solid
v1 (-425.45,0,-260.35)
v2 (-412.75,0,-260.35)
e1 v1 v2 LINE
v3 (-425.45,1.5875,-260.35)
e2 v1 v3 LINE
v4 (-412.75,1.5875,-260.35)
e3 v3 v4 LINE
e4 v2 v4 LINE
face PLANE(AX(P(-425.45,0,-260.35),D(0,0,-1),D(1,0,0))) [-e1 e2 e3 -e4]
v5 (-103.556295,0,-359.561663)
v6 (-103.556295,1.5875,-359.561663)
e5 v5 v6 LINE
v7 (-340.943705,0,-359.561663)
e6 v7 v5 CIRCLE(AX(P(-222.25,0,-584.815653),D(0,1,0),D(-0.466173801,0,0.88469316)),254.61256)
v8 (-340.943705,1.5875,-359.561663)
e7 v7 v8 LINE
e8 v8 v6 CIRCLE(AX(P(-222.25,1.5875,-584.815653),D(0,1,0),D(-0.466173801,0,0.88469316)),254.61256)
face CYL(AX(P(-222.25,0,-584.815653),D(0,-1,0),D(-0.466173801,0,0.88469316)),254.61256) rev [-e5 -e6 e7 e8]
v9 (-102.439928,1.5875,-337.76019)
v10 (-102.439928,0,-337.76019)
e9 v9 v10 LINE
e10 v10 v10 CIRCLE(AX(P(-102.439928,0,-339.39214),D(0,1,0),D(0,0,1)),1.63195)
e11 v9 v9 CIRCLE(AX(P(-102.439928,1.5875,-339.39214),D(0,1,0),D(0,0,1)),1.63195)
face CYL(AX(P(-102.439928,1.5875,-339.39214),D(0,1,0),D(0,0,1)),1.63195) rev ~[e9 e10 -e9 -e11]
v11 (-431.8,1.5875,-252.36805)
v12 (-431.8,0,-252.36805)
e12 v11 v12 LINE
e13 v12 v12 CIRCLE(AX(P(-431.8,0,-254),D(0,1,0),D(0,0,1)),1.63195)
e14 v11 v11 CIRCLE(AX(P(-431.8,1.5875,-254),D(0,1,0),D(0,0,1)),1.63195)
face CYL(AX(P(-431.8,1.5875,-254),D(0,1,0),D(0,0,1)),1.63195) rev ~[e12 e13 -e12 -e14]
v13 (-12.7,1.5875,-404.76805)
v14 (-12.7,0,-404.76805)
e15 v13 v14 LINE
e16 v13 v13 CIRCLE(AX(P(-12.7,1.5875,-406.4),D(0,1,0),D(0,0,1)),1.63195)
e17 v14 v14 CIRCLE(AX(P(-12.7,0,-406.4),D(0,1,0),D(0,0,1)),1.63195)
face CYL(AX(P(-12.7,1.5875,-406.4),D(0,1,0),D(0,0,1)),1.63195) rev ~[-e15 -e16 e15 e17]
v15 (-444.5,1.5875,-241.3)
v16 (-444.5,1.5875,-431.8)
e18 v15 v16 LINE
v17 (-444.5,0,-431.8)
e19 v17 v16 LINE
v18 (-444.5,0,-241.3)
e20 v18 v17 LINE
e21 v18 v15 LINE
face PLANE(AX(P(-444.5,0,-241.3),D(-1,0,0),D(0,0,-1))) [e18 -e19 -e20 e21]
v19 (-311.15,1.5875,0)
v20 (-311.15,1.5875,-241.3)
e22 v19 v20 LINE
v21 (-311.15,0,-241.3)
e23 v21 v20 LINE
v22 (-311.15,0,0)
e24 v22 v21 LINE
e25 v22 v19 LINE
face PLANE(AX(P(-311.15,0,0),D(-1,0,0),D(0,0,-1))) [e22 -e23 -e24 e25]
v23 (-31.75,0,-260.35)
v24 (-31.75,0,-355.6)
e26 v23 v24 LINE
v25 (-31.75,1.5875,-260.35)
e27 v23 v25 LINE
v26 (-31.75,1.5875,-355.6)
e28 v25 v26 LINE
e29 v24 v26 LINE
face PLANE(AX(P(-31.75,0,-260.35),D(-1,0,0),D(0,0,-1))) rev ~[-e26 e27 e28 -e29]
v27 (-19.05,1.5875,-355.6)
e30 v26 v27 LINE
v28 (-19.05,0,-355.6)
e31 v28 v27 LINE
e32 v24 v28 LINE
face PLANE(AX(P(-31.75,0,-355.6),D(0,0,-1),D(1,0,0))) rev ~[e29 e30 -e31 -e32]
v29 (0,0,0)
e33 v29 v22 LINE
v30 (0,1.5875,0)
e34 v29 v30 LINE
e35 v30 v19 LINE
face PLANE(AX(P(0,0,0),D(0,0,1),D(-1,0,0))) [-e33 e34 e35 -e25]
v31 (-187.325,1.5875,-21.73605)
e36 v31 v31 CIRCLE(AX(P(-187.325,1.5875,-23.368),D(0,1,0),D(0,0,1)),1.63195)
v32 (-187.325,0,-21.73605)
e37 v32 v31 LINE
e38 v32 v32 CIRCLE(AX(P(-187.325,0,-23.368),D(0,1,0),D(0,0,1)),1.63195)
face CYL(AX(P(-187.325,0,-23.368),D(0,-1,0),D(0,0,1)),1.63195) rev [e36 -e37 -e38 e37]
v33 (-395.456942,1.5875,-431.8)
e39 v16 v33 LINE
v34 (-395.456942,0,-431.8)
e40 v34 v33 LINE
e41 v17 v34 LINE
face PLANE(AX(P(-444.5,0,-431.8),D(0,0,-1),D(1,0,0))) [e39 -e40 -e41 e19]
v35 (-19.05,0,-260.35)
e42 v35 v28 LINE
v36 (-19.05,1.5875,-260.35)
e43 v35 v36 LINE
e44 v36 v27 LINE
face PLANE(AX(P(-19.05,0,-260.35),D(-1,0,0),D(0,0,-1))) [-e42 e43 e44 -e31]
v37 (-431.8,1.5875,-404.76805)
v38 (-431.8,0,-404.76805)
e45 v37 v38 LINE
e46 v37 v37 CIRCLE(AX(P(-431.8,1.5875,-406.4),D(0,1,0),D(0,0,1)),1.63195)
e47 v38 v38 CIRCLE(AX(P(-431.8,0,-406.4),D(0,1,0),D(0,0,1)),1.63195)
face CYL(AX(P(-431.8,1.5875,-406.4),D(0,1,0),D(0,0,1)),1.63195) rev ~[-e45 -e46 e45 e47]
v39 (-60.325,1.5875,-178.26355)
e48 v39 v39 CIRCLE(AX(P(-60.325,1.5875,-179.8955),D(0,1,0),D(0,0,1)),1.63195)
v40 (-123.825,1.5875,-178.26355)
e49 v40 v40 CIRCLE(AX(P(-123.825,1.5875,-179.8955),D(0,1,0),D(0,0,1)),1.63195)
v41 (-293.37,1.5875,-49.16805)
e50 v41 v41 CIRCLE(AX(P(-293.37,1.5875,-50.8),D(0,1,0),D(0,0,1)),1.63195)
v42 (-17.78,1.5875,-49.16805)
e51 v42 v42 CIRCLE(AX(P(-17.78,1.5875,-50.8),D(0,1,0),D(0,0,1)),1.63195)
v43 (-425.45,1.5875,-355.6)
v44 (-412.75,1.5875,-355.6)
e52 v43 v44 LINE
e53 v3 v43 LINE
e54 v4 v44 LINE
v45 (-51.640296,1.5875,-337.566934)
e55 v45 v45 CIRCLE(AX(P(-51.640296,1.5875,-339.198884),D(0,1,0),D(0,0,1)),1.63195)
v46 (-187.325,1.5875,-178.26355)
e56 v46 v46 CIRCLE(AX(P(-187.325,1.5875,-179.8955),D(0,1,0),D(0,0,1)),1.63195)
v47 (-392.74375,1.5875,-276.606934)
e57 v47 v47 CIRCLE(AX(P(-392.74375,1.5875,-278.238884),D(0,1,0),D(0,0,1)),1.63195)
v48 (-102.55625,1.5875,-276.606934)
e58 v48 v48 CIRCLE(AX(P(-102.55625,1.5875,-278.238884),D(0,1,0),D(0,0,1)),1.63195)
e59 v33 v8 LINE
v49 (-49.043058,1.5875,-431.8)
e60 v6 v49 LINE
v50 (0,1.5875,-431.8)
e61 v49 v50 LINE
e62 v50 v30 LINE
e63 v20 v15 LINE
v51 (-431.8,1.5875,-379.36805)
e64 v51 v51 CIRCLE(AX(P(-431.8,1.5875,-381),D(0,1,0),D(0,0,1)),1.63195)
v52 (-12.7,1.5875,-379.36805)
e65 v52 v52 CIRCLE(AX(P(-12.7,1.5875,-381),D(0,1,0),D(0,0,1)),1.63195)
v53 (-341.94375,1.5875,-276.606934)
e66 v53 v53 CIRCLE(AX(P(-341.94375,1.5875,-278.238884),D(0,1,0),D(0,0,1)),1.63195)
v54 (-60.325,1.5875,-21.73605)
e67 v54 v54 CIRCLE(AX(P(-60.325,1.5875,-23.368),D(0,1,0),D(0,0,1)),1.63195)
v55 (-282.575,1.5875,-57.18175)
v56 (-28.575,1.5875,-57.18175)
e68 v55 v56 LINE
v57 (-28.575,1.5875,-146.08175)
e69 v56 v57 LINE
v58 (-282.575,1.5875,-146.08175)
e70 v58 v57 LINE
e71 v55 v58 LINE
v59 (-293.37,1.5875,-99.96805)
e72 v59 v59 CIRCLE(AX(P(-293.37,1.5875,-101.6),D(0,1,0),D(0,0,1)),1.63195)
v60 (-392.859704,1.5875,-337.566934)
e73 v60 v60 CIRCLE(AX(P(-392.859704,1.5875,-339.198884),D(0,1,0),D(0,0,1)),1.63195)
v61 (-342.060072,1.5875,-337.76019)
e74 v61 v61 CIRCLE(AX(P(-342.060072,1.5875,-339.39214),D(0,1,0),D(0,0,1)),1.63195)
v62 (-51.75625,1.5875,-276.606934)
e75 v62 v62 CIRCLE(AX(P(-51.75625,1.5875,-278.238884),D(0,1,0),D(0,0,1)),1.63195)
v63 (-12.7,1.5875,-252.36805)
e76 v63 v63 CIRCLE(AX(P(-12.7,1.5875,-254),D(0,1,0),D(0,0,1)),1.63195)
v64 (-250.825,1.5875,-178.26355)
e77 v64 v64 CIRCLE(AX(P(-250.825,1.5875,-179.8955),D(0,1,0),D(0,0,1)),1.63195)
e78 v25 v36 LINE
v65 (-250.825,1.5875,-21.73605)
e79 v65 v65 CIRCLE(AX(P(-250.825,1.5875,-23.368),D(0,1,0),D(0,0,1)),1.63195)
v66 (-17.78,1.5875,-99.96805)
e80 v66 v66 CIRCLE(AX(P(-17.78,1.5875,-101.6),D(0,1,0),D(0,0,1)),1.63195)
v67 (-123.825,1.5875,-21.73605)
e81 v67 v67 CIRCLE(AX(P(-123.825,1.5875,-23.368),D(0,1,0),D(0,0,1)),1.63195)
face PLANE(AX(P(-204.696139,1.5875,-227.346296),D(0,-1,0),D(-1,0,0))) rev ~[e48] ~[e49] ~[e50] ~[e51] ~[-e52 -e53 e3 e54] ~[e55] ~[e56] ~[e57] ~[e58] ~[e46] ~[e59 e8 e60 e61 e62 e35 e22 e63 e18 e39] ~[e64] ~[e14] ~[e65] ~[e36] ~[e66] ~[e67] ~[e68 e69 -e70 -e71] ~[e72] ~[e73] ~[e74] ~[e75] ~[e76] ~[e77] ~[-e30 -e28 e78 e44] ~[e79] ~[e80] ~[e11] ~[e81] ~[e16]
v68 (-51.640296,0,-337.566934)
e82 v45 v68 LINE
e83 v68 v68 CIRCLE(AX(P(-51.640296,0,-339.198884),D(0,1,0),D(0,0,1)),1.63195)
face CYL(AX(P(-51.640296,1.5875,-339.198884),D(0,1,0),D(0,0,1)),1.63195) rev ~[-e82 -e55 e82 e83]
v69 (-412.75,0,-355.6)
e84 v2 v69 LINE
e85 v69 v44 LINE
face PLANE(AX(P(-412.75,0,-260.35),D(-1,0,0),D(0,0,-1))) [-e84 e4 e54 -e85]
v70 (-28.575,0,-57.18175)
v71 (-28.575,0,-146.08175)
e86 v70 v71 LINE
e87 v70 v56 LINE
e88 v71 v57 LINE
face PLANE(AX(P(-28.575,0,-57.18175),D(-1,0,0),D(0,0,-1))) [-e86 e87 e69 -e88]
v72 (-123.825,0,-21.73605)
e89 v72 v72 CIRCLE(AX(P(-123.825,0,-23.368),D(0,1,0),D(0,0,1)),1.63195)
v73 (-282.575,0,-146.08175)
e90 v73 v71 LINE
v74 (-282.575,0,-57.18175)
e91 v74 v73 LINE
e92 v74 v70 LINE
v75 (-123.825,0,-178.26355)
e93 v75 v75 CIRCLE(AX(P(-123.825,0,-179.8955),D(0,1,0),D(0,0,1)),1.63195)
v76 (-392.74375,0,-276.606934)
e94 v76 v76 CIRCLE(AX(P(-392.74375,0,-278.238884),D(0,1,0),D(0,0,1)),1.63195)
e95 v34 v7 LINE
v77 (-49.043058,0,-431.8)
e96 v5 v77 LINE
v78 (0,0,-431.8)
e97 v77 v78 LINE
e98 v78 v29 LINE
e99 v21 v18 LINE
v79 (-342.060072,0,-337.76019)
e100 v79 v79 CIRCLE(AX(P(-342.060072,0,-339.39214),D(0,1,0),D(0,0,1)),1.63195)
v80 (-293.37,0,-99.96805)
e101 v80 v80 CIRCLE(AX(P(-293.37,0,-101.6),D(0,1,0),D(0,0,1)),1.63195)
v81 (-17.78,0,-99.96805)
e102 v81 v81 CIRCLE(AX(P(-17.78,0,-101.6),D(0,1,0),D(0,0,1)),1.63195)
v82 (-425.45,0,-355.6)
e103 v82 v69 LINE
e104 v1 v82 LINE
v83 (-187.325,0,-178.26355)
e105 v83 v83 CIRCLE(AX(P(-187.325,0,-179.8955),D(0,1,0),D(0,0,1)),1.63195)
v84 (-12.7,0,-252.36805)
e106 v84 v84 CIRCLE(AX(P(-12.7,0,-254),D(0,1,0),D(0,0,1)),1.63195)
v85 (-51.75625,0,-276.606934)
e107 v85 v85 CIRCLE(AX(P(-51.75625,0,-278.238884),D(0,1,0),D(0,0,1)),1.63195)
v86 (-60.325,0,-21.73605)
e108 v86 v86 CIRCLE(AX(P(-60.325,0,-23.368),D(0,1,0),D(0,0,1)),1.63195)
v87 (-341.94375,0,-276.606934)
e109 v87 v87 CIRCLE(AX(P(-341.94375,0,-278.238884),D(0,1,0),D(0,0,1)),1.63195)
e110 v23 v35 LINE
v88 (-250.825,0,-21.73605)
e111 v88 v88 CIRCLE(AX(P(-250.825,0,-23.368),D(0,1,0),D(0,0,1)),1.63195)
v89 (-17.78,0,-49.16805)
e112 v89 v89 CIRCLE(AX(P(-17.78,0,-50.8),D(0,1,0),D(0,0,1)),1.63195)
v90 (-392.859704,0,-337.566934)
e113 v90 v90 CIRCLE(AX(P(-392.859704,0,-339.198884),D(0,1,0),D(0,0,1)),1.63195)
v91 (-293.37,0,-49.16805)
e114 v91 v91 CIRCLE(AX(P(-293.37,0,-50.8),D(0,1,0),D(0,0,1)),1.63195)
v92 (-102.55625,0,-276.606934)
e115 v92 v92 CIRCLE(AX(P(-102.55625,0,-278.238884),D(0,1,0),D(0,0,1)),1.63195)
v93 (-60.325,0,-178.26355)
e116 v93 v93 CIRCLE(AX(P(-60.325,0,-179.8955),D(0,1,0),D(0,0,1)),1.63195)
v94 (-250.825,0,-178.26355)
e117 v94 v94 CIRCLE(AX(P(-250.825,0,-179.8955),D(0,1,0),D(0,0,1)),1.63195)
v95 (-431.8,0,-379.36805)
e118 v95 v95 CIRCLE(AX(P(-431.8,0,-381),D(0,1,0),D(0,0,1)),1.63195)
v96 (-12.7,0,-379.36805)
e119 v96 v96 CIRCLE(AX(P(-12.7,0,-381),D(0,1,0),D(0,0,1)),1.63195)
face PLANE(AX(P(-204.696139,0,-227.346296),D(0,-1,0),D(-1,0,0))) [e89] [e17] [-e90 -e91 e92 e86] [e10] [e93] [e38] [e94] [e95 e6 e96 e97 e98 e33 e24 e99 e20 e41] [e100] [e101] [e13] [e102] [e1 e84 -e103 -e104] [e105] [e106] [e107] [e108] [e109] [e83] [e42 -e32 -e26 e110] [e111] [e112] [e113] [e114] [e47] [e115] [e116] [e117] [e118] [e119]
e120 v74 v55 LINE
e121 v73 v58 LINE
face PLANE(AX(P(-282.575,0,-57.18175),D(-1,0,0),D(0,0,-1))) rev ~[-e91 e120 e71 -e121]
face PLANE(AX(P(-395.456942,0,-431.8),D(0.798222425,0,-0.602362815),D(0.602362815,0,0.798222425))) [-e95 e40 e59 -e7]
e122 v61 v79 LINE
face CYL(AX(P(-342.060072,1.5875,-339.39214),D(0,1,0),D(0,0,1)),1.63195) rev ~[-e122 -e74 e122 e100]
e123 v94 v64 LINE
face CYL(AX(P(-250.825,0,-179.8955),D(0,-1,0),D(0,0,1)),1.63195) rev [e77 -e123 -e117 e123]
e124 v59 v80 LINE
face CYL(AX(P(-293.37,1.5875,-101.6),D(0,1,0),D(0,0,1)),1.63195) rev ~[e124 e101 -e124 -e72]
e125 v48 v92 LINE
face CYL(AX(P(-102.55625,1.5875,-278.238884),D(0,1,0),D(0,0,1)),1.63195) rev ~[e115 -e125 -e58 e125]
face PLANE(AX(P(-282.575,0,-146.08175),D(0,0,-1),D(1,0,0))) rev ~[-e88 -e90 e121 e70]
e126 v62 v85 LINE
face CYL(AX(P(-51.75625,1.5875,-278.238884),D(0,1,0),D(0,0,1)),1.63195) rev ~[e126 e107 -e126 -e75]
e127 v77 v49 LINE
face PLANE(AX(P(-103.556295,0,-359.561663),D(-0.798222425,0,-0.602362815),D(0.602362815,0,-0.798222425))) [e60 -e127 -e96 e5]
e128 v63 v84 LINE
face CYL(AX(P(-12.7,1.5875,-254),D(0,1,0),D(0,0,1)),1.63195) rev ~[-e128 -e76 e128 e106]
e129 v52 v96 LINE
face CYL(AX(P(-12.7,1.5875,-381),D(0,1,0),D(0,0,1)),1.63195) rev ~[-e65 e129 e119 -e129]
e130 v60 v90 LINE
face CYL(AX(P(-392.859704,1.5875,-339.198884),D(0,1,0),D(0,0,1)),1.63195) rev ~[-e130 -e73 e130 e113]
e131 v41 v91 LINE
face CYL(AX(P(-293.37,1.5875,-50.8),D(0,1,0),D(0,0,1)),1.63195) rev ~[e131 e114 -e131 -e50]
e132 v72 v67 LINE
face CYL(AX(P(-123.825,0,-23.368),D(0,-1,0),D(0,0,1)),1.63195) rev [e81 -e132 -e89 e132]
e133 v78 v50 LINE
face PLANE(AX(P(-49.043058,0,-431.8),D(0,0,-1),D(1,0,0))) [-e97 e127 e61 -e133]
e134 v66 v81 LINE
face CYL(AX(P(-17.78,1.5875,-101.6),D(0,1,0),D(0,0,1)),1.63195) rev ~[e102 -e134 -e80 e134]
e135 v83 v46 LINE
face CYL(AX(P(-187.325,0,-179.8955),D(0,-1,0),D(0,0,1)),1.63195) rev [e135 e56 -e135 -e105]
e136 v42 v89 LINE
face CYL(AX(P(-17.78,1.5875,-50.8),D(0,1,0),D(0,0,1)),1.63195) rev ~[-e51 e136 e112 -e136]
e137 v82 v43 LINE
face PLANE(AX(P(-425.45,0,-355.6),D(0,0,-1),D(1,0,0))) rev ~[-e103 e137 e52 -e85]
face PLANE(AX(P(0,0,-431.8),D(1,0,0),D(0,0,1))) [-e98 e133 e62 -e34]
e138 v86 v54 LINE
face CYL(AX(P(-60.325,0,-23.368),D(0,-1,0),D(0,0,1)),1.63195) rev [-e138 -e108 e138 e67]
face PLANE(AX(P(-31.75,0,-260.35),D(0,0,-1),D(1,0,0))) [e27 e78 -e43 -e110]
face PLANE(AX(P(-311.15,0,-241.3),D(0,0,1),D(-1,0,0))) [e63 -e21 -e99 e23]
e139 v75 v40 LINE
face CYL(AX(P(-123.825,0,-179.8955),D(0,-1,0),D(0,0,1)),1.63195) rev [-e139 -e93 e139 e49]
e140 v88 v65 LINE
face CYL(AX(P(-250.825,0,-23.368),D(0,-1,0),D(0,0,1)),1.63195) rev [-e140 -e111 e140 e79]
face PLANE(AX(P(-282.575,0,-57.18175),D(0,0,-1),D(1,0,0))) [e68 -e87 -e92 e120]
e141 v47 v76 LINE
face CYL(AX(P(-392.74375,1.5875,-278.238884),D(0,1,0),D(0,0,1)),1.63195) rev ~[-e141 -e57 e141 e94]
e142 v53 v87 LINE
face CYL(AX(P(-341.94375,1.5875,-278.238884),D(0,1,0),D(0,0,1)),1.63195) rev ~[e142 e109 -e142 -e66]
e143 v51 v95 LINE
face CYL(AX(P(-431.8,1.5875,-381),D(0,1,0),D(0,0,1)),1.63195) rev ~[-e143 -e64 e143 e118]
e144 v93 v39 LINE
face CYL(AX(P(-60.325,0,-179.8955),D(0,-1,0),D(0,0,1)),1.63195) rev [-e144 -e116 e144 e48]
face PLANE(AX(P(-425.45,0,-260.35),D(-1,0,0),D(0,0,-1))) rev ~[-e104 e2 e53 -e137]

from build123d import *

# Parameters (mm, degrees)
SKETCH1_R           = 1.63195
SKETCH1_W           = 254
SKETCH1_H           = 88.9
SKETCH1_W_2         = 12.7
SKETCH1_H_2         = 95.25
BOSS_EXTRUDE1_DEPTH = 1.5875
CUT_EXTRUDE1_REACH  = 621.705
SKETCH2_R           = 1.63195
CUT_EXTRUDE2_REACH  = 621.705
SKETCH4_R           = 1.63195


with BuildPart() as part:
    # Sketch1 → Boss-Extrude1 (new body)
    with BuildSketch(Plane(origin=(0, 0, 0), x_dir=(1, 0, 0), z_dir=(0, 1, 0))):
        with BuildLine():
            Line((-444.5, 431.8), (-395.456941666, 431.8))
            Line((-395.456941666, 431.8), (-340.943704665, 359.56166268))
            ThreePointArc((-340.943704665, 359.56166268), (-222.25, 330.203093028), (-103.556295335, 359.56166268))
            Line((-103.556295335, 359.56166268), (-49.043058334, 431.8))
            Line((-49.043058334, 431.8), (0, 431.8))
            Line((0, 431.8), (0, 0))
            Line((0, 0), (-311.15, 0))
            Line((-311.15, 0), (-311.15, 241.3))
            Line((-311.15, 241.3), (-444.5, 241.3))
            Line((-444.5, 241.3), (-444.5, 431.8))
        make_face()
        with Locations(Location((-250.825, 23.368, 0), (0, 0, 270))):
            Circle(SKETCH1_R, mode=Mode.SUBTRACT)
        with Locations(Location((-187.325, 23.368, 0), (0, 0, 270))):
            Circle(SKETCH1_R, mode=Mode.SUBTRACT)
        with Locations(Location((-187.325, 179.8955, 0), (0, 0, 270))):
            Circle(SKETCH1_R, mode=Mode.SUBTRACT)
        with Locations(Location((-250.825, 179.8955, 0), (0, 0, 270))):
            Circle(SKETCH1_R, mode=Mode.SUBTRACT)
        with Locations(Location((-123.825, 179.8955, 0), (0, 0, 270))):
            Circle(SKETCH1_R, mode=Mode.SUBTRACT)
        with Locations(Location((-60.325, 179.8955, 0), (0, 0, 270))):
            Circle(SKETCH1_R, mode=Mode.SUBTRACT)
        with Locations(Location((-123.825, 23.368, 0), (0, 0, 270))):
            Circle(SKETCH1_R, mode=Mode.SUBTRACT)
        with Locations(Location((-60.325, 23.368, 0), (0, 0, 270))):
            Circle(SKETCH1_R, mode=Mode.SUBTRACT)
        with Locations((-155.575, 101.63175)):
            Rectangle(SKETCH1_W, SKETCH1_H, mode=Mode.SUBTRACT)
        with Locations((-25.4, 307.975)):
            Rectangle(SKETCH1_W_2, SKETCH1_H_2, mode=Mode.SUBTRACT)
        with Locations((-419.1, 307.975)):
            Rectangle(SKETCH1_W_2, SKETCH1_H_2, mode=Mode.SUBTRACT)
    extrude(amount=BOSS_EXTRUDE1_DEPTH)

    # Sketch2 → Cut-Extrude1 (cut, up to next)
    with BuildSketch(Plane(origin=(0, 1.5875, 0), x_dir=(1, 0, 0), z_dir=(0, 1, 0)), mode=Mode.PRIVATE) as cut_extrude1_sk1:
        with Locations(Location((-293.37, 101.6, 0), (0, 0, 270))):
            Circle(SKETCH2_R)
    cut_extrude1_tool1 = extrude(cut_extrude1_sk1.sketch, amount=-CUT_EXTRUDE1_REACH, mode=Mode.PRIVATE) & part.part
    # Sketch2 → Cut-Extrude1 (cut, up to next)
    with BuildSketch(Plane(origin=(0, 1.5875, 0), x_dir=(1, 0, 0), z_dir=(0, 1, 0)), mode=Mode.PRIVATE) as cut_extrude1_sk2:
        with Locations(Location((-293.37, 50.8, 0), (0, 0, 270))):
            Circle(SKETCH2_R)
    cut_extrude1_tool2 = extrude(cut_extrude1_sk2.sketch, amount=-CUT_EXTRUDE1_REACH, mode=Mode.PRIVATE) & part.part
    # Sketch2 → Cut-Extrude1 (cut, up to next)
    with BuildSketch(Plane(origin=(0, 1.5875, 0), x_dir=(1, 0, 0), z_dir=(0, 1, 0)), mode=Mode.PRIVATE) as cut_extrude1_sk3:
        with Locations(Location((-17.78, 101.6, 0), (0, 0, 270))):
            Circle(SKETCH2_R)
    cut_extrude1_tool3 = extrude(cut_extrude1_sk3.sketch, amount=-CUT_EXTRUDE1_REACH, mode=Mode.PRIVATE) & part.part
    # Sketch2 → Cut-Extrude1 (cut, up to next)
    with BuildSketch(Plane(origin=(0, 1.5875, 0), x_dir=(1, 0, 0), z_dir=(0, 1, 0)), mode=Mode.PRIVATE) as cut_extrude1_sk4:
        with Locations(Location((-17.78, 50.8, 0), (0, 0, 270))):
            Circle(SKETCH2_R)
    cut_extrude1_tool4 = extrude(cut_extrude1_sk4.sketch, amount=-CUT_EXTRUDE1_REACH, mode=Mode.PRIVATE) & part.part
    add(cut_extrude1_tool1.solids().sort_by_distance((-293.37, 1.5875, -101.6))[0], mode=Mode.SUBTRACT)
    add(cut_extrude1_tool2.solids().sort_by_distance((-293.37, 1.5875, -50.8))[0], mode=Mode.SUBTRACT)
    add(cut_extrude1_tool3.solids().sort_by_distance((-17.78, 1.5875, -101.6))[0], mode=Mode.SUBTRACT)
    add(cut_extrude1_tool4.solids().sort_by_distance((-17.78, 1.5875, -50.8))[0], mode=Mode.SUBTRACT)

    # Sketch4 → Cut-Extrude2 (cut, up to next)
    with BuildSketch(Plane(origin=(0, 1.5875, 0), x_dir=(1, 0, 0), z_dir=(0, 1, 0)), mode=Mode.PRIVATE) as cut_extrude2_sk1:
        with Locations(Location((-102.439928105, 339.392140239, 0), (0, 0, 270))):
            Circle(SKETCH4_R)
    cut_extrude2_tool1 = extrude(cut_extrude2_sk1.sketch, amount=-CUT_EXTRUDE2_REACH, mode=Mode.PRIVATE) & part.part
    # Sketch4 → Cut-Extrude2 (cut, up to next)
    with BuildSketch(Plane(origin=(0, 1.5875, 0), x_dir=(1, 0, 0), z_dir=(0, 1, 0)), mode=Mode.PRIVATE) as cut_extrude2_sk2:
        with Locations(Location((-51.640295705, 339.198883781, 0), (0, 0, 270))):
            Circle(SKETCH4_R)
    cut_extrude2_tool2 = extrude(cut_extrude2_sk2.sketch, amount=-CUT_EXTRUDE2_REACH, mode=Mode.PRIVATE) & part.part
    # Sketch4 → Cut-Extrude2 (cut, up to next)
    with BuildSketch(Plane(origin=(0, 1.5875, 0), x_dir=(1, 0, 0), z_dir=(0, 1, 0)), mode=Mode.PRIVATE) as cut_extrude2_sk3:
        with Locations(Location((-102.55625, 278.238883781, 0), (0, 0, 270))):
            Circle(SKETCH4_R)
    cut_extrude2_tool3 = extrude(cut_extrude2_sk3.sketch, amount=-CUT_EXTRUDE2_REACH, mode=Mode.PRIVATE) & part.part
    # Sketch4 → Cut-Extrude2 (cut, up to next)
    with BuildSketch(Plane(origin=(0, 1.5875, 0), x_dir=(1, 0, 0), z_dir=(0, 1, 0)), mode=Mode.PRIVATE) as cut_extrude2_sk4:
        with Locations(Location((-51.75625, 278.238883781, 0), (0, 0, 270))):
            Circle(SKETCH4_R)
    cut_extrude2_tool4 = extrude(cut_extrude2_sk4.sketch, amount=-CUT_EXTRUDE2_REACH, mode=Mode.PRIVATE) & part.part
    # Sketch4 → Cut-Extrude2 (cut, up to next)
    with BuildSketch(Plane(origin=(0, 1.5875, 0), x_dir=(1, 0, 0), z_dir=(0, 1, 0)), mode=Mode.PRIVATE) as cut_extrude2_sk5:
        with Locations(Location((-392.74375, 278.238883781, 0), (0, 0, 270))):
            Circle(SKETCH4_R)
    cut_extrude2_tool5 = extrude(cut_extrude2_sk5.sketch, amount=-CUT_EXTRUDE2_REACH, mode=Mode.PRIVATE) & part.part
    # Sketch4 → Cut-Extrude2 (cut, up to next)
    with BuildSketch(Plane(origin=(0, 1.5875, 0), x_dir=(1, 0, 0), z_dir=(0, 1, 0)), mode=Mode.PRIVATE) as cut_extrude2_sk6:
        with Locations(Location((-341.94375, 278.238883781, 0), (0, 0, 270))):
            Circle(SKETCH4_R)
    cut_extrude2_tool6 = extrude(cut_extrude2_sk6.sketch, amount=-CUT_EXTRUDE2_REACH, mode=Mode.PRIVATE) & part.part
    # Sketch4 → Cut-Extrude2 (cut, up to next)
    with BuildSketch(Plane(origin=(0, 1.5875, 0), x_dir=(1, 0, 0), z_dir=(0, 1, 0)), mode=Mode.PRIVATE) as cut_extrude2_sk7:
        with Locations(Location((-392.859704295, 339.198883781, 0), (0, 0, 270))):
            Circle(SKETCH4_R)
    cut_extrude2_tool7 = extrude(cut_extrude2_sk7.sketch, amount=-CUT_EXTRUDE2_REACH, mode=Mode.PRIVATE) & part.part
    # Sketch4 → Cut-Extrude2 (cut, up to next)
    with BuildSketch(Plane(origin=(0, 1.5875, 0), x_dir=(1, 0, 0), z_dir=(0, 1, 0)), mode=Mode.PRIVATE) as cut_extrude2_sk8:
        with Locations(Location((-342.060071895, 339.392140239, 0), (0, 0, 270))):
            Circle(SKETCH4_R)
    cut_extrude2_tool8 = extrude(cut_extrude2_sk8.sketch, amount=-CUT_EXTRUDE2_REACH, mode=Mode.PRIVATE) & part.part
    # Sketch4 → Cut-Extrude2 (cut, up to next)
    with BuildSketch(Plane(origin=(0, 1.5875, 0), x_dir=(1, 0, 0), z_dir=(0, 1, 0)), mode=Mode.PRIVATE) as cut_extrude2_sk9:
        with Locations(Location((-12.7, 406.4, 0), (0, 0, 270))):
            Circle(SKETCH4_R)
    cut_extrude2_tool9 = extrude(cut_extrude2_sk9.sketch, amount=-CUT_EXTRUDE2_REACH, mode=Mode.PRIVATE) & part.part
    # Sketch4 → Cut-Extrude2 (cut, up to next)
    with BuildSketch(Plane(origin=(0, 1.5875, 0), x_dir=(1, 0, 0), z_dir=(0, 1, 0)), mode=Mode.PRIVATE) as cut_extrude2_sk10:
        with Locations(Location((-12.7, 381, 0), (0, 0, 270))):
            Circle(SKETCH4_R)
    cut_extrude2_tool10 = extrude(cut_extrude2_sk10.sketch, amount=-CUT_EXTRUDE2_REACH, mode=Mode.PRIVATE) & part.part
    # Sketch4 → Cut-Extrude2 (cut, up to next)
    with BuildSketch(Plane(origin=(0, 1.5875, 0), x_dir=(1, 0, 0), z_dir=(0, 1, 0)), mode=Mode.PRIVATE) as cut_extrude2_sk11:
        with Locations(Location((-12.7, 254, 0), (0, 0, 270))):
            Circle(SKETCH4_R)
    cut_extrude2_tool11 = extrude(cut_extrude2_sk11.sketch, amount=-CUT_EXTRUDE2_REACH, mode=Mode.PRIVATE) & part.part
    # Sketch4 → Cut-Extrude2 (cut, up to next)
    with BuildSketch(Plane(origin=(0, 1.5875, 0), x_dir=(1, 0, 0), z_dir=(0, 1, 0)), mode=Mode.PRIVATE) as cut_extrude2_sk12:
        with Locations(Location((-431.8, 254, 0), (0, 0, 270))):
            Circle(SKETCH4_R)
    cut_extrude2_tool12 = extrude(cut_extrude2_sk12.sketch, amount=-CUT_EXTRUDE2_REACH, mode=Mode.PRIVATE) & part.part
    # Sketch4 → Cut-Extrude2 (cut, up to next)
    with BuildSketch(Plane(origin=(0, 1.5875, 0), x_dir=(1, 0, 0), z_dir=(0, 1, 0)), mode=Mode.PRIVATE) as cut_extrude2_sk13:
        with Locations(Location((-431.8, 381, 0), (0, 0, 270))):
            Circle(SKETCH4_R)
    cut_extrude2_tool13 = extrude(cut_extrude2_sk13.sketch, amount=-CUT_EXTRUDE2_REACH, mode=Mode.PRIVATE) & part.part
    # Sketch4 → Cut-Extrude2 (cut, up to next)
    with BuildSketch(Plane(origin=(0, 1.5875, 0), x_dir=(1, 0, 0), z_dir=(0, 1, 0)), mode=Mode.PRIVATE) as cut_extrude2_sk14:
        with Locations(Location((-431.8, 406.4, 0), (0, 0, 270))):
            Circle(SKETCH4_R)
    cut_extrude2_tool14 = extrude(cut_extrude2_sk14.sketch, amount=-CUT_EXTRUDE2_REACH, mode=Mode.PRIVATE) & part.part
    add(cut_extrude2_tool1.solids().sort_by_distance((-102.439928, 1.5875, -339.39214))[0], mode=Mode.SUBTRACT)
    add(cut_extrude2_tool2.solids().sort_by_distance((-51.640296, 1.5875, -339.198884))[0], mode=Mode.SUBTRACT)
    add(cut_extrude2_tool3.solids().sort_by_distance((-102.55625, 1.5875, -278.238884))[0], mode=Mode.SUBTRACT)
    add(cut_extrude2_tool4.solids().sort_by_distance((-51.75625, 1.5875, -278.238884))[0], mode=Mode.SUBTRACT)
    add(cut_extrude2_tool5.solids().sort_by_distance((-392.74375, 1.5875, -278.238884))[0], mode=Mode.SUBTRACT)
    add(cut_extrude2_tool6.solids().sort_by_distance((-341.94375, 1.5875, -278.238884))[0], mode=Mode.SUBTRACT)
    add(cut_extrude2_tool7.solids().sort_by_distance((-392.859704, 1.5875, -339.198884))[0], mode=Mode.SUBTRACT)
    add(cut_extrude2_tool8.solids().sort_by_distance((-342.060072, 1.5875, -339.39214))[0], mode=Mode.SUBTRACT)
    add(cut_extrude2_tool9.solids().sort_by_distance((-12.7, 1.5875, -406.4))[0], mode=Mode.SUBTRACT)
    add(cut_extrude2_tool10.solids().sort_by_distance((-12.7, 1.5875, -381))[0], mode=Mode.SUBTRACT)
    add(cut_extrude2_tool11.solids().sort_by_distance((-12.7, 1.5875, -254))[0], mode=Mode.SUBTRACT)
    add(cut_extrude2_tool12.solids().sort_by_distance((-431.8, 1.5875, -254))[0], mode=Mode.SUBTRACT)
    add(cut_extrude2_tool13.solids().sort_by_distance((-431.8, 1.5875, -381))[0], mode=Mode.SUBTRACT)
    add(cut_extrude2_tool14.solids().sort_by_distance((-431.8, 1.5875, -406.4))[0], mode=Mode.SUBTRACT)


solid = part.part
